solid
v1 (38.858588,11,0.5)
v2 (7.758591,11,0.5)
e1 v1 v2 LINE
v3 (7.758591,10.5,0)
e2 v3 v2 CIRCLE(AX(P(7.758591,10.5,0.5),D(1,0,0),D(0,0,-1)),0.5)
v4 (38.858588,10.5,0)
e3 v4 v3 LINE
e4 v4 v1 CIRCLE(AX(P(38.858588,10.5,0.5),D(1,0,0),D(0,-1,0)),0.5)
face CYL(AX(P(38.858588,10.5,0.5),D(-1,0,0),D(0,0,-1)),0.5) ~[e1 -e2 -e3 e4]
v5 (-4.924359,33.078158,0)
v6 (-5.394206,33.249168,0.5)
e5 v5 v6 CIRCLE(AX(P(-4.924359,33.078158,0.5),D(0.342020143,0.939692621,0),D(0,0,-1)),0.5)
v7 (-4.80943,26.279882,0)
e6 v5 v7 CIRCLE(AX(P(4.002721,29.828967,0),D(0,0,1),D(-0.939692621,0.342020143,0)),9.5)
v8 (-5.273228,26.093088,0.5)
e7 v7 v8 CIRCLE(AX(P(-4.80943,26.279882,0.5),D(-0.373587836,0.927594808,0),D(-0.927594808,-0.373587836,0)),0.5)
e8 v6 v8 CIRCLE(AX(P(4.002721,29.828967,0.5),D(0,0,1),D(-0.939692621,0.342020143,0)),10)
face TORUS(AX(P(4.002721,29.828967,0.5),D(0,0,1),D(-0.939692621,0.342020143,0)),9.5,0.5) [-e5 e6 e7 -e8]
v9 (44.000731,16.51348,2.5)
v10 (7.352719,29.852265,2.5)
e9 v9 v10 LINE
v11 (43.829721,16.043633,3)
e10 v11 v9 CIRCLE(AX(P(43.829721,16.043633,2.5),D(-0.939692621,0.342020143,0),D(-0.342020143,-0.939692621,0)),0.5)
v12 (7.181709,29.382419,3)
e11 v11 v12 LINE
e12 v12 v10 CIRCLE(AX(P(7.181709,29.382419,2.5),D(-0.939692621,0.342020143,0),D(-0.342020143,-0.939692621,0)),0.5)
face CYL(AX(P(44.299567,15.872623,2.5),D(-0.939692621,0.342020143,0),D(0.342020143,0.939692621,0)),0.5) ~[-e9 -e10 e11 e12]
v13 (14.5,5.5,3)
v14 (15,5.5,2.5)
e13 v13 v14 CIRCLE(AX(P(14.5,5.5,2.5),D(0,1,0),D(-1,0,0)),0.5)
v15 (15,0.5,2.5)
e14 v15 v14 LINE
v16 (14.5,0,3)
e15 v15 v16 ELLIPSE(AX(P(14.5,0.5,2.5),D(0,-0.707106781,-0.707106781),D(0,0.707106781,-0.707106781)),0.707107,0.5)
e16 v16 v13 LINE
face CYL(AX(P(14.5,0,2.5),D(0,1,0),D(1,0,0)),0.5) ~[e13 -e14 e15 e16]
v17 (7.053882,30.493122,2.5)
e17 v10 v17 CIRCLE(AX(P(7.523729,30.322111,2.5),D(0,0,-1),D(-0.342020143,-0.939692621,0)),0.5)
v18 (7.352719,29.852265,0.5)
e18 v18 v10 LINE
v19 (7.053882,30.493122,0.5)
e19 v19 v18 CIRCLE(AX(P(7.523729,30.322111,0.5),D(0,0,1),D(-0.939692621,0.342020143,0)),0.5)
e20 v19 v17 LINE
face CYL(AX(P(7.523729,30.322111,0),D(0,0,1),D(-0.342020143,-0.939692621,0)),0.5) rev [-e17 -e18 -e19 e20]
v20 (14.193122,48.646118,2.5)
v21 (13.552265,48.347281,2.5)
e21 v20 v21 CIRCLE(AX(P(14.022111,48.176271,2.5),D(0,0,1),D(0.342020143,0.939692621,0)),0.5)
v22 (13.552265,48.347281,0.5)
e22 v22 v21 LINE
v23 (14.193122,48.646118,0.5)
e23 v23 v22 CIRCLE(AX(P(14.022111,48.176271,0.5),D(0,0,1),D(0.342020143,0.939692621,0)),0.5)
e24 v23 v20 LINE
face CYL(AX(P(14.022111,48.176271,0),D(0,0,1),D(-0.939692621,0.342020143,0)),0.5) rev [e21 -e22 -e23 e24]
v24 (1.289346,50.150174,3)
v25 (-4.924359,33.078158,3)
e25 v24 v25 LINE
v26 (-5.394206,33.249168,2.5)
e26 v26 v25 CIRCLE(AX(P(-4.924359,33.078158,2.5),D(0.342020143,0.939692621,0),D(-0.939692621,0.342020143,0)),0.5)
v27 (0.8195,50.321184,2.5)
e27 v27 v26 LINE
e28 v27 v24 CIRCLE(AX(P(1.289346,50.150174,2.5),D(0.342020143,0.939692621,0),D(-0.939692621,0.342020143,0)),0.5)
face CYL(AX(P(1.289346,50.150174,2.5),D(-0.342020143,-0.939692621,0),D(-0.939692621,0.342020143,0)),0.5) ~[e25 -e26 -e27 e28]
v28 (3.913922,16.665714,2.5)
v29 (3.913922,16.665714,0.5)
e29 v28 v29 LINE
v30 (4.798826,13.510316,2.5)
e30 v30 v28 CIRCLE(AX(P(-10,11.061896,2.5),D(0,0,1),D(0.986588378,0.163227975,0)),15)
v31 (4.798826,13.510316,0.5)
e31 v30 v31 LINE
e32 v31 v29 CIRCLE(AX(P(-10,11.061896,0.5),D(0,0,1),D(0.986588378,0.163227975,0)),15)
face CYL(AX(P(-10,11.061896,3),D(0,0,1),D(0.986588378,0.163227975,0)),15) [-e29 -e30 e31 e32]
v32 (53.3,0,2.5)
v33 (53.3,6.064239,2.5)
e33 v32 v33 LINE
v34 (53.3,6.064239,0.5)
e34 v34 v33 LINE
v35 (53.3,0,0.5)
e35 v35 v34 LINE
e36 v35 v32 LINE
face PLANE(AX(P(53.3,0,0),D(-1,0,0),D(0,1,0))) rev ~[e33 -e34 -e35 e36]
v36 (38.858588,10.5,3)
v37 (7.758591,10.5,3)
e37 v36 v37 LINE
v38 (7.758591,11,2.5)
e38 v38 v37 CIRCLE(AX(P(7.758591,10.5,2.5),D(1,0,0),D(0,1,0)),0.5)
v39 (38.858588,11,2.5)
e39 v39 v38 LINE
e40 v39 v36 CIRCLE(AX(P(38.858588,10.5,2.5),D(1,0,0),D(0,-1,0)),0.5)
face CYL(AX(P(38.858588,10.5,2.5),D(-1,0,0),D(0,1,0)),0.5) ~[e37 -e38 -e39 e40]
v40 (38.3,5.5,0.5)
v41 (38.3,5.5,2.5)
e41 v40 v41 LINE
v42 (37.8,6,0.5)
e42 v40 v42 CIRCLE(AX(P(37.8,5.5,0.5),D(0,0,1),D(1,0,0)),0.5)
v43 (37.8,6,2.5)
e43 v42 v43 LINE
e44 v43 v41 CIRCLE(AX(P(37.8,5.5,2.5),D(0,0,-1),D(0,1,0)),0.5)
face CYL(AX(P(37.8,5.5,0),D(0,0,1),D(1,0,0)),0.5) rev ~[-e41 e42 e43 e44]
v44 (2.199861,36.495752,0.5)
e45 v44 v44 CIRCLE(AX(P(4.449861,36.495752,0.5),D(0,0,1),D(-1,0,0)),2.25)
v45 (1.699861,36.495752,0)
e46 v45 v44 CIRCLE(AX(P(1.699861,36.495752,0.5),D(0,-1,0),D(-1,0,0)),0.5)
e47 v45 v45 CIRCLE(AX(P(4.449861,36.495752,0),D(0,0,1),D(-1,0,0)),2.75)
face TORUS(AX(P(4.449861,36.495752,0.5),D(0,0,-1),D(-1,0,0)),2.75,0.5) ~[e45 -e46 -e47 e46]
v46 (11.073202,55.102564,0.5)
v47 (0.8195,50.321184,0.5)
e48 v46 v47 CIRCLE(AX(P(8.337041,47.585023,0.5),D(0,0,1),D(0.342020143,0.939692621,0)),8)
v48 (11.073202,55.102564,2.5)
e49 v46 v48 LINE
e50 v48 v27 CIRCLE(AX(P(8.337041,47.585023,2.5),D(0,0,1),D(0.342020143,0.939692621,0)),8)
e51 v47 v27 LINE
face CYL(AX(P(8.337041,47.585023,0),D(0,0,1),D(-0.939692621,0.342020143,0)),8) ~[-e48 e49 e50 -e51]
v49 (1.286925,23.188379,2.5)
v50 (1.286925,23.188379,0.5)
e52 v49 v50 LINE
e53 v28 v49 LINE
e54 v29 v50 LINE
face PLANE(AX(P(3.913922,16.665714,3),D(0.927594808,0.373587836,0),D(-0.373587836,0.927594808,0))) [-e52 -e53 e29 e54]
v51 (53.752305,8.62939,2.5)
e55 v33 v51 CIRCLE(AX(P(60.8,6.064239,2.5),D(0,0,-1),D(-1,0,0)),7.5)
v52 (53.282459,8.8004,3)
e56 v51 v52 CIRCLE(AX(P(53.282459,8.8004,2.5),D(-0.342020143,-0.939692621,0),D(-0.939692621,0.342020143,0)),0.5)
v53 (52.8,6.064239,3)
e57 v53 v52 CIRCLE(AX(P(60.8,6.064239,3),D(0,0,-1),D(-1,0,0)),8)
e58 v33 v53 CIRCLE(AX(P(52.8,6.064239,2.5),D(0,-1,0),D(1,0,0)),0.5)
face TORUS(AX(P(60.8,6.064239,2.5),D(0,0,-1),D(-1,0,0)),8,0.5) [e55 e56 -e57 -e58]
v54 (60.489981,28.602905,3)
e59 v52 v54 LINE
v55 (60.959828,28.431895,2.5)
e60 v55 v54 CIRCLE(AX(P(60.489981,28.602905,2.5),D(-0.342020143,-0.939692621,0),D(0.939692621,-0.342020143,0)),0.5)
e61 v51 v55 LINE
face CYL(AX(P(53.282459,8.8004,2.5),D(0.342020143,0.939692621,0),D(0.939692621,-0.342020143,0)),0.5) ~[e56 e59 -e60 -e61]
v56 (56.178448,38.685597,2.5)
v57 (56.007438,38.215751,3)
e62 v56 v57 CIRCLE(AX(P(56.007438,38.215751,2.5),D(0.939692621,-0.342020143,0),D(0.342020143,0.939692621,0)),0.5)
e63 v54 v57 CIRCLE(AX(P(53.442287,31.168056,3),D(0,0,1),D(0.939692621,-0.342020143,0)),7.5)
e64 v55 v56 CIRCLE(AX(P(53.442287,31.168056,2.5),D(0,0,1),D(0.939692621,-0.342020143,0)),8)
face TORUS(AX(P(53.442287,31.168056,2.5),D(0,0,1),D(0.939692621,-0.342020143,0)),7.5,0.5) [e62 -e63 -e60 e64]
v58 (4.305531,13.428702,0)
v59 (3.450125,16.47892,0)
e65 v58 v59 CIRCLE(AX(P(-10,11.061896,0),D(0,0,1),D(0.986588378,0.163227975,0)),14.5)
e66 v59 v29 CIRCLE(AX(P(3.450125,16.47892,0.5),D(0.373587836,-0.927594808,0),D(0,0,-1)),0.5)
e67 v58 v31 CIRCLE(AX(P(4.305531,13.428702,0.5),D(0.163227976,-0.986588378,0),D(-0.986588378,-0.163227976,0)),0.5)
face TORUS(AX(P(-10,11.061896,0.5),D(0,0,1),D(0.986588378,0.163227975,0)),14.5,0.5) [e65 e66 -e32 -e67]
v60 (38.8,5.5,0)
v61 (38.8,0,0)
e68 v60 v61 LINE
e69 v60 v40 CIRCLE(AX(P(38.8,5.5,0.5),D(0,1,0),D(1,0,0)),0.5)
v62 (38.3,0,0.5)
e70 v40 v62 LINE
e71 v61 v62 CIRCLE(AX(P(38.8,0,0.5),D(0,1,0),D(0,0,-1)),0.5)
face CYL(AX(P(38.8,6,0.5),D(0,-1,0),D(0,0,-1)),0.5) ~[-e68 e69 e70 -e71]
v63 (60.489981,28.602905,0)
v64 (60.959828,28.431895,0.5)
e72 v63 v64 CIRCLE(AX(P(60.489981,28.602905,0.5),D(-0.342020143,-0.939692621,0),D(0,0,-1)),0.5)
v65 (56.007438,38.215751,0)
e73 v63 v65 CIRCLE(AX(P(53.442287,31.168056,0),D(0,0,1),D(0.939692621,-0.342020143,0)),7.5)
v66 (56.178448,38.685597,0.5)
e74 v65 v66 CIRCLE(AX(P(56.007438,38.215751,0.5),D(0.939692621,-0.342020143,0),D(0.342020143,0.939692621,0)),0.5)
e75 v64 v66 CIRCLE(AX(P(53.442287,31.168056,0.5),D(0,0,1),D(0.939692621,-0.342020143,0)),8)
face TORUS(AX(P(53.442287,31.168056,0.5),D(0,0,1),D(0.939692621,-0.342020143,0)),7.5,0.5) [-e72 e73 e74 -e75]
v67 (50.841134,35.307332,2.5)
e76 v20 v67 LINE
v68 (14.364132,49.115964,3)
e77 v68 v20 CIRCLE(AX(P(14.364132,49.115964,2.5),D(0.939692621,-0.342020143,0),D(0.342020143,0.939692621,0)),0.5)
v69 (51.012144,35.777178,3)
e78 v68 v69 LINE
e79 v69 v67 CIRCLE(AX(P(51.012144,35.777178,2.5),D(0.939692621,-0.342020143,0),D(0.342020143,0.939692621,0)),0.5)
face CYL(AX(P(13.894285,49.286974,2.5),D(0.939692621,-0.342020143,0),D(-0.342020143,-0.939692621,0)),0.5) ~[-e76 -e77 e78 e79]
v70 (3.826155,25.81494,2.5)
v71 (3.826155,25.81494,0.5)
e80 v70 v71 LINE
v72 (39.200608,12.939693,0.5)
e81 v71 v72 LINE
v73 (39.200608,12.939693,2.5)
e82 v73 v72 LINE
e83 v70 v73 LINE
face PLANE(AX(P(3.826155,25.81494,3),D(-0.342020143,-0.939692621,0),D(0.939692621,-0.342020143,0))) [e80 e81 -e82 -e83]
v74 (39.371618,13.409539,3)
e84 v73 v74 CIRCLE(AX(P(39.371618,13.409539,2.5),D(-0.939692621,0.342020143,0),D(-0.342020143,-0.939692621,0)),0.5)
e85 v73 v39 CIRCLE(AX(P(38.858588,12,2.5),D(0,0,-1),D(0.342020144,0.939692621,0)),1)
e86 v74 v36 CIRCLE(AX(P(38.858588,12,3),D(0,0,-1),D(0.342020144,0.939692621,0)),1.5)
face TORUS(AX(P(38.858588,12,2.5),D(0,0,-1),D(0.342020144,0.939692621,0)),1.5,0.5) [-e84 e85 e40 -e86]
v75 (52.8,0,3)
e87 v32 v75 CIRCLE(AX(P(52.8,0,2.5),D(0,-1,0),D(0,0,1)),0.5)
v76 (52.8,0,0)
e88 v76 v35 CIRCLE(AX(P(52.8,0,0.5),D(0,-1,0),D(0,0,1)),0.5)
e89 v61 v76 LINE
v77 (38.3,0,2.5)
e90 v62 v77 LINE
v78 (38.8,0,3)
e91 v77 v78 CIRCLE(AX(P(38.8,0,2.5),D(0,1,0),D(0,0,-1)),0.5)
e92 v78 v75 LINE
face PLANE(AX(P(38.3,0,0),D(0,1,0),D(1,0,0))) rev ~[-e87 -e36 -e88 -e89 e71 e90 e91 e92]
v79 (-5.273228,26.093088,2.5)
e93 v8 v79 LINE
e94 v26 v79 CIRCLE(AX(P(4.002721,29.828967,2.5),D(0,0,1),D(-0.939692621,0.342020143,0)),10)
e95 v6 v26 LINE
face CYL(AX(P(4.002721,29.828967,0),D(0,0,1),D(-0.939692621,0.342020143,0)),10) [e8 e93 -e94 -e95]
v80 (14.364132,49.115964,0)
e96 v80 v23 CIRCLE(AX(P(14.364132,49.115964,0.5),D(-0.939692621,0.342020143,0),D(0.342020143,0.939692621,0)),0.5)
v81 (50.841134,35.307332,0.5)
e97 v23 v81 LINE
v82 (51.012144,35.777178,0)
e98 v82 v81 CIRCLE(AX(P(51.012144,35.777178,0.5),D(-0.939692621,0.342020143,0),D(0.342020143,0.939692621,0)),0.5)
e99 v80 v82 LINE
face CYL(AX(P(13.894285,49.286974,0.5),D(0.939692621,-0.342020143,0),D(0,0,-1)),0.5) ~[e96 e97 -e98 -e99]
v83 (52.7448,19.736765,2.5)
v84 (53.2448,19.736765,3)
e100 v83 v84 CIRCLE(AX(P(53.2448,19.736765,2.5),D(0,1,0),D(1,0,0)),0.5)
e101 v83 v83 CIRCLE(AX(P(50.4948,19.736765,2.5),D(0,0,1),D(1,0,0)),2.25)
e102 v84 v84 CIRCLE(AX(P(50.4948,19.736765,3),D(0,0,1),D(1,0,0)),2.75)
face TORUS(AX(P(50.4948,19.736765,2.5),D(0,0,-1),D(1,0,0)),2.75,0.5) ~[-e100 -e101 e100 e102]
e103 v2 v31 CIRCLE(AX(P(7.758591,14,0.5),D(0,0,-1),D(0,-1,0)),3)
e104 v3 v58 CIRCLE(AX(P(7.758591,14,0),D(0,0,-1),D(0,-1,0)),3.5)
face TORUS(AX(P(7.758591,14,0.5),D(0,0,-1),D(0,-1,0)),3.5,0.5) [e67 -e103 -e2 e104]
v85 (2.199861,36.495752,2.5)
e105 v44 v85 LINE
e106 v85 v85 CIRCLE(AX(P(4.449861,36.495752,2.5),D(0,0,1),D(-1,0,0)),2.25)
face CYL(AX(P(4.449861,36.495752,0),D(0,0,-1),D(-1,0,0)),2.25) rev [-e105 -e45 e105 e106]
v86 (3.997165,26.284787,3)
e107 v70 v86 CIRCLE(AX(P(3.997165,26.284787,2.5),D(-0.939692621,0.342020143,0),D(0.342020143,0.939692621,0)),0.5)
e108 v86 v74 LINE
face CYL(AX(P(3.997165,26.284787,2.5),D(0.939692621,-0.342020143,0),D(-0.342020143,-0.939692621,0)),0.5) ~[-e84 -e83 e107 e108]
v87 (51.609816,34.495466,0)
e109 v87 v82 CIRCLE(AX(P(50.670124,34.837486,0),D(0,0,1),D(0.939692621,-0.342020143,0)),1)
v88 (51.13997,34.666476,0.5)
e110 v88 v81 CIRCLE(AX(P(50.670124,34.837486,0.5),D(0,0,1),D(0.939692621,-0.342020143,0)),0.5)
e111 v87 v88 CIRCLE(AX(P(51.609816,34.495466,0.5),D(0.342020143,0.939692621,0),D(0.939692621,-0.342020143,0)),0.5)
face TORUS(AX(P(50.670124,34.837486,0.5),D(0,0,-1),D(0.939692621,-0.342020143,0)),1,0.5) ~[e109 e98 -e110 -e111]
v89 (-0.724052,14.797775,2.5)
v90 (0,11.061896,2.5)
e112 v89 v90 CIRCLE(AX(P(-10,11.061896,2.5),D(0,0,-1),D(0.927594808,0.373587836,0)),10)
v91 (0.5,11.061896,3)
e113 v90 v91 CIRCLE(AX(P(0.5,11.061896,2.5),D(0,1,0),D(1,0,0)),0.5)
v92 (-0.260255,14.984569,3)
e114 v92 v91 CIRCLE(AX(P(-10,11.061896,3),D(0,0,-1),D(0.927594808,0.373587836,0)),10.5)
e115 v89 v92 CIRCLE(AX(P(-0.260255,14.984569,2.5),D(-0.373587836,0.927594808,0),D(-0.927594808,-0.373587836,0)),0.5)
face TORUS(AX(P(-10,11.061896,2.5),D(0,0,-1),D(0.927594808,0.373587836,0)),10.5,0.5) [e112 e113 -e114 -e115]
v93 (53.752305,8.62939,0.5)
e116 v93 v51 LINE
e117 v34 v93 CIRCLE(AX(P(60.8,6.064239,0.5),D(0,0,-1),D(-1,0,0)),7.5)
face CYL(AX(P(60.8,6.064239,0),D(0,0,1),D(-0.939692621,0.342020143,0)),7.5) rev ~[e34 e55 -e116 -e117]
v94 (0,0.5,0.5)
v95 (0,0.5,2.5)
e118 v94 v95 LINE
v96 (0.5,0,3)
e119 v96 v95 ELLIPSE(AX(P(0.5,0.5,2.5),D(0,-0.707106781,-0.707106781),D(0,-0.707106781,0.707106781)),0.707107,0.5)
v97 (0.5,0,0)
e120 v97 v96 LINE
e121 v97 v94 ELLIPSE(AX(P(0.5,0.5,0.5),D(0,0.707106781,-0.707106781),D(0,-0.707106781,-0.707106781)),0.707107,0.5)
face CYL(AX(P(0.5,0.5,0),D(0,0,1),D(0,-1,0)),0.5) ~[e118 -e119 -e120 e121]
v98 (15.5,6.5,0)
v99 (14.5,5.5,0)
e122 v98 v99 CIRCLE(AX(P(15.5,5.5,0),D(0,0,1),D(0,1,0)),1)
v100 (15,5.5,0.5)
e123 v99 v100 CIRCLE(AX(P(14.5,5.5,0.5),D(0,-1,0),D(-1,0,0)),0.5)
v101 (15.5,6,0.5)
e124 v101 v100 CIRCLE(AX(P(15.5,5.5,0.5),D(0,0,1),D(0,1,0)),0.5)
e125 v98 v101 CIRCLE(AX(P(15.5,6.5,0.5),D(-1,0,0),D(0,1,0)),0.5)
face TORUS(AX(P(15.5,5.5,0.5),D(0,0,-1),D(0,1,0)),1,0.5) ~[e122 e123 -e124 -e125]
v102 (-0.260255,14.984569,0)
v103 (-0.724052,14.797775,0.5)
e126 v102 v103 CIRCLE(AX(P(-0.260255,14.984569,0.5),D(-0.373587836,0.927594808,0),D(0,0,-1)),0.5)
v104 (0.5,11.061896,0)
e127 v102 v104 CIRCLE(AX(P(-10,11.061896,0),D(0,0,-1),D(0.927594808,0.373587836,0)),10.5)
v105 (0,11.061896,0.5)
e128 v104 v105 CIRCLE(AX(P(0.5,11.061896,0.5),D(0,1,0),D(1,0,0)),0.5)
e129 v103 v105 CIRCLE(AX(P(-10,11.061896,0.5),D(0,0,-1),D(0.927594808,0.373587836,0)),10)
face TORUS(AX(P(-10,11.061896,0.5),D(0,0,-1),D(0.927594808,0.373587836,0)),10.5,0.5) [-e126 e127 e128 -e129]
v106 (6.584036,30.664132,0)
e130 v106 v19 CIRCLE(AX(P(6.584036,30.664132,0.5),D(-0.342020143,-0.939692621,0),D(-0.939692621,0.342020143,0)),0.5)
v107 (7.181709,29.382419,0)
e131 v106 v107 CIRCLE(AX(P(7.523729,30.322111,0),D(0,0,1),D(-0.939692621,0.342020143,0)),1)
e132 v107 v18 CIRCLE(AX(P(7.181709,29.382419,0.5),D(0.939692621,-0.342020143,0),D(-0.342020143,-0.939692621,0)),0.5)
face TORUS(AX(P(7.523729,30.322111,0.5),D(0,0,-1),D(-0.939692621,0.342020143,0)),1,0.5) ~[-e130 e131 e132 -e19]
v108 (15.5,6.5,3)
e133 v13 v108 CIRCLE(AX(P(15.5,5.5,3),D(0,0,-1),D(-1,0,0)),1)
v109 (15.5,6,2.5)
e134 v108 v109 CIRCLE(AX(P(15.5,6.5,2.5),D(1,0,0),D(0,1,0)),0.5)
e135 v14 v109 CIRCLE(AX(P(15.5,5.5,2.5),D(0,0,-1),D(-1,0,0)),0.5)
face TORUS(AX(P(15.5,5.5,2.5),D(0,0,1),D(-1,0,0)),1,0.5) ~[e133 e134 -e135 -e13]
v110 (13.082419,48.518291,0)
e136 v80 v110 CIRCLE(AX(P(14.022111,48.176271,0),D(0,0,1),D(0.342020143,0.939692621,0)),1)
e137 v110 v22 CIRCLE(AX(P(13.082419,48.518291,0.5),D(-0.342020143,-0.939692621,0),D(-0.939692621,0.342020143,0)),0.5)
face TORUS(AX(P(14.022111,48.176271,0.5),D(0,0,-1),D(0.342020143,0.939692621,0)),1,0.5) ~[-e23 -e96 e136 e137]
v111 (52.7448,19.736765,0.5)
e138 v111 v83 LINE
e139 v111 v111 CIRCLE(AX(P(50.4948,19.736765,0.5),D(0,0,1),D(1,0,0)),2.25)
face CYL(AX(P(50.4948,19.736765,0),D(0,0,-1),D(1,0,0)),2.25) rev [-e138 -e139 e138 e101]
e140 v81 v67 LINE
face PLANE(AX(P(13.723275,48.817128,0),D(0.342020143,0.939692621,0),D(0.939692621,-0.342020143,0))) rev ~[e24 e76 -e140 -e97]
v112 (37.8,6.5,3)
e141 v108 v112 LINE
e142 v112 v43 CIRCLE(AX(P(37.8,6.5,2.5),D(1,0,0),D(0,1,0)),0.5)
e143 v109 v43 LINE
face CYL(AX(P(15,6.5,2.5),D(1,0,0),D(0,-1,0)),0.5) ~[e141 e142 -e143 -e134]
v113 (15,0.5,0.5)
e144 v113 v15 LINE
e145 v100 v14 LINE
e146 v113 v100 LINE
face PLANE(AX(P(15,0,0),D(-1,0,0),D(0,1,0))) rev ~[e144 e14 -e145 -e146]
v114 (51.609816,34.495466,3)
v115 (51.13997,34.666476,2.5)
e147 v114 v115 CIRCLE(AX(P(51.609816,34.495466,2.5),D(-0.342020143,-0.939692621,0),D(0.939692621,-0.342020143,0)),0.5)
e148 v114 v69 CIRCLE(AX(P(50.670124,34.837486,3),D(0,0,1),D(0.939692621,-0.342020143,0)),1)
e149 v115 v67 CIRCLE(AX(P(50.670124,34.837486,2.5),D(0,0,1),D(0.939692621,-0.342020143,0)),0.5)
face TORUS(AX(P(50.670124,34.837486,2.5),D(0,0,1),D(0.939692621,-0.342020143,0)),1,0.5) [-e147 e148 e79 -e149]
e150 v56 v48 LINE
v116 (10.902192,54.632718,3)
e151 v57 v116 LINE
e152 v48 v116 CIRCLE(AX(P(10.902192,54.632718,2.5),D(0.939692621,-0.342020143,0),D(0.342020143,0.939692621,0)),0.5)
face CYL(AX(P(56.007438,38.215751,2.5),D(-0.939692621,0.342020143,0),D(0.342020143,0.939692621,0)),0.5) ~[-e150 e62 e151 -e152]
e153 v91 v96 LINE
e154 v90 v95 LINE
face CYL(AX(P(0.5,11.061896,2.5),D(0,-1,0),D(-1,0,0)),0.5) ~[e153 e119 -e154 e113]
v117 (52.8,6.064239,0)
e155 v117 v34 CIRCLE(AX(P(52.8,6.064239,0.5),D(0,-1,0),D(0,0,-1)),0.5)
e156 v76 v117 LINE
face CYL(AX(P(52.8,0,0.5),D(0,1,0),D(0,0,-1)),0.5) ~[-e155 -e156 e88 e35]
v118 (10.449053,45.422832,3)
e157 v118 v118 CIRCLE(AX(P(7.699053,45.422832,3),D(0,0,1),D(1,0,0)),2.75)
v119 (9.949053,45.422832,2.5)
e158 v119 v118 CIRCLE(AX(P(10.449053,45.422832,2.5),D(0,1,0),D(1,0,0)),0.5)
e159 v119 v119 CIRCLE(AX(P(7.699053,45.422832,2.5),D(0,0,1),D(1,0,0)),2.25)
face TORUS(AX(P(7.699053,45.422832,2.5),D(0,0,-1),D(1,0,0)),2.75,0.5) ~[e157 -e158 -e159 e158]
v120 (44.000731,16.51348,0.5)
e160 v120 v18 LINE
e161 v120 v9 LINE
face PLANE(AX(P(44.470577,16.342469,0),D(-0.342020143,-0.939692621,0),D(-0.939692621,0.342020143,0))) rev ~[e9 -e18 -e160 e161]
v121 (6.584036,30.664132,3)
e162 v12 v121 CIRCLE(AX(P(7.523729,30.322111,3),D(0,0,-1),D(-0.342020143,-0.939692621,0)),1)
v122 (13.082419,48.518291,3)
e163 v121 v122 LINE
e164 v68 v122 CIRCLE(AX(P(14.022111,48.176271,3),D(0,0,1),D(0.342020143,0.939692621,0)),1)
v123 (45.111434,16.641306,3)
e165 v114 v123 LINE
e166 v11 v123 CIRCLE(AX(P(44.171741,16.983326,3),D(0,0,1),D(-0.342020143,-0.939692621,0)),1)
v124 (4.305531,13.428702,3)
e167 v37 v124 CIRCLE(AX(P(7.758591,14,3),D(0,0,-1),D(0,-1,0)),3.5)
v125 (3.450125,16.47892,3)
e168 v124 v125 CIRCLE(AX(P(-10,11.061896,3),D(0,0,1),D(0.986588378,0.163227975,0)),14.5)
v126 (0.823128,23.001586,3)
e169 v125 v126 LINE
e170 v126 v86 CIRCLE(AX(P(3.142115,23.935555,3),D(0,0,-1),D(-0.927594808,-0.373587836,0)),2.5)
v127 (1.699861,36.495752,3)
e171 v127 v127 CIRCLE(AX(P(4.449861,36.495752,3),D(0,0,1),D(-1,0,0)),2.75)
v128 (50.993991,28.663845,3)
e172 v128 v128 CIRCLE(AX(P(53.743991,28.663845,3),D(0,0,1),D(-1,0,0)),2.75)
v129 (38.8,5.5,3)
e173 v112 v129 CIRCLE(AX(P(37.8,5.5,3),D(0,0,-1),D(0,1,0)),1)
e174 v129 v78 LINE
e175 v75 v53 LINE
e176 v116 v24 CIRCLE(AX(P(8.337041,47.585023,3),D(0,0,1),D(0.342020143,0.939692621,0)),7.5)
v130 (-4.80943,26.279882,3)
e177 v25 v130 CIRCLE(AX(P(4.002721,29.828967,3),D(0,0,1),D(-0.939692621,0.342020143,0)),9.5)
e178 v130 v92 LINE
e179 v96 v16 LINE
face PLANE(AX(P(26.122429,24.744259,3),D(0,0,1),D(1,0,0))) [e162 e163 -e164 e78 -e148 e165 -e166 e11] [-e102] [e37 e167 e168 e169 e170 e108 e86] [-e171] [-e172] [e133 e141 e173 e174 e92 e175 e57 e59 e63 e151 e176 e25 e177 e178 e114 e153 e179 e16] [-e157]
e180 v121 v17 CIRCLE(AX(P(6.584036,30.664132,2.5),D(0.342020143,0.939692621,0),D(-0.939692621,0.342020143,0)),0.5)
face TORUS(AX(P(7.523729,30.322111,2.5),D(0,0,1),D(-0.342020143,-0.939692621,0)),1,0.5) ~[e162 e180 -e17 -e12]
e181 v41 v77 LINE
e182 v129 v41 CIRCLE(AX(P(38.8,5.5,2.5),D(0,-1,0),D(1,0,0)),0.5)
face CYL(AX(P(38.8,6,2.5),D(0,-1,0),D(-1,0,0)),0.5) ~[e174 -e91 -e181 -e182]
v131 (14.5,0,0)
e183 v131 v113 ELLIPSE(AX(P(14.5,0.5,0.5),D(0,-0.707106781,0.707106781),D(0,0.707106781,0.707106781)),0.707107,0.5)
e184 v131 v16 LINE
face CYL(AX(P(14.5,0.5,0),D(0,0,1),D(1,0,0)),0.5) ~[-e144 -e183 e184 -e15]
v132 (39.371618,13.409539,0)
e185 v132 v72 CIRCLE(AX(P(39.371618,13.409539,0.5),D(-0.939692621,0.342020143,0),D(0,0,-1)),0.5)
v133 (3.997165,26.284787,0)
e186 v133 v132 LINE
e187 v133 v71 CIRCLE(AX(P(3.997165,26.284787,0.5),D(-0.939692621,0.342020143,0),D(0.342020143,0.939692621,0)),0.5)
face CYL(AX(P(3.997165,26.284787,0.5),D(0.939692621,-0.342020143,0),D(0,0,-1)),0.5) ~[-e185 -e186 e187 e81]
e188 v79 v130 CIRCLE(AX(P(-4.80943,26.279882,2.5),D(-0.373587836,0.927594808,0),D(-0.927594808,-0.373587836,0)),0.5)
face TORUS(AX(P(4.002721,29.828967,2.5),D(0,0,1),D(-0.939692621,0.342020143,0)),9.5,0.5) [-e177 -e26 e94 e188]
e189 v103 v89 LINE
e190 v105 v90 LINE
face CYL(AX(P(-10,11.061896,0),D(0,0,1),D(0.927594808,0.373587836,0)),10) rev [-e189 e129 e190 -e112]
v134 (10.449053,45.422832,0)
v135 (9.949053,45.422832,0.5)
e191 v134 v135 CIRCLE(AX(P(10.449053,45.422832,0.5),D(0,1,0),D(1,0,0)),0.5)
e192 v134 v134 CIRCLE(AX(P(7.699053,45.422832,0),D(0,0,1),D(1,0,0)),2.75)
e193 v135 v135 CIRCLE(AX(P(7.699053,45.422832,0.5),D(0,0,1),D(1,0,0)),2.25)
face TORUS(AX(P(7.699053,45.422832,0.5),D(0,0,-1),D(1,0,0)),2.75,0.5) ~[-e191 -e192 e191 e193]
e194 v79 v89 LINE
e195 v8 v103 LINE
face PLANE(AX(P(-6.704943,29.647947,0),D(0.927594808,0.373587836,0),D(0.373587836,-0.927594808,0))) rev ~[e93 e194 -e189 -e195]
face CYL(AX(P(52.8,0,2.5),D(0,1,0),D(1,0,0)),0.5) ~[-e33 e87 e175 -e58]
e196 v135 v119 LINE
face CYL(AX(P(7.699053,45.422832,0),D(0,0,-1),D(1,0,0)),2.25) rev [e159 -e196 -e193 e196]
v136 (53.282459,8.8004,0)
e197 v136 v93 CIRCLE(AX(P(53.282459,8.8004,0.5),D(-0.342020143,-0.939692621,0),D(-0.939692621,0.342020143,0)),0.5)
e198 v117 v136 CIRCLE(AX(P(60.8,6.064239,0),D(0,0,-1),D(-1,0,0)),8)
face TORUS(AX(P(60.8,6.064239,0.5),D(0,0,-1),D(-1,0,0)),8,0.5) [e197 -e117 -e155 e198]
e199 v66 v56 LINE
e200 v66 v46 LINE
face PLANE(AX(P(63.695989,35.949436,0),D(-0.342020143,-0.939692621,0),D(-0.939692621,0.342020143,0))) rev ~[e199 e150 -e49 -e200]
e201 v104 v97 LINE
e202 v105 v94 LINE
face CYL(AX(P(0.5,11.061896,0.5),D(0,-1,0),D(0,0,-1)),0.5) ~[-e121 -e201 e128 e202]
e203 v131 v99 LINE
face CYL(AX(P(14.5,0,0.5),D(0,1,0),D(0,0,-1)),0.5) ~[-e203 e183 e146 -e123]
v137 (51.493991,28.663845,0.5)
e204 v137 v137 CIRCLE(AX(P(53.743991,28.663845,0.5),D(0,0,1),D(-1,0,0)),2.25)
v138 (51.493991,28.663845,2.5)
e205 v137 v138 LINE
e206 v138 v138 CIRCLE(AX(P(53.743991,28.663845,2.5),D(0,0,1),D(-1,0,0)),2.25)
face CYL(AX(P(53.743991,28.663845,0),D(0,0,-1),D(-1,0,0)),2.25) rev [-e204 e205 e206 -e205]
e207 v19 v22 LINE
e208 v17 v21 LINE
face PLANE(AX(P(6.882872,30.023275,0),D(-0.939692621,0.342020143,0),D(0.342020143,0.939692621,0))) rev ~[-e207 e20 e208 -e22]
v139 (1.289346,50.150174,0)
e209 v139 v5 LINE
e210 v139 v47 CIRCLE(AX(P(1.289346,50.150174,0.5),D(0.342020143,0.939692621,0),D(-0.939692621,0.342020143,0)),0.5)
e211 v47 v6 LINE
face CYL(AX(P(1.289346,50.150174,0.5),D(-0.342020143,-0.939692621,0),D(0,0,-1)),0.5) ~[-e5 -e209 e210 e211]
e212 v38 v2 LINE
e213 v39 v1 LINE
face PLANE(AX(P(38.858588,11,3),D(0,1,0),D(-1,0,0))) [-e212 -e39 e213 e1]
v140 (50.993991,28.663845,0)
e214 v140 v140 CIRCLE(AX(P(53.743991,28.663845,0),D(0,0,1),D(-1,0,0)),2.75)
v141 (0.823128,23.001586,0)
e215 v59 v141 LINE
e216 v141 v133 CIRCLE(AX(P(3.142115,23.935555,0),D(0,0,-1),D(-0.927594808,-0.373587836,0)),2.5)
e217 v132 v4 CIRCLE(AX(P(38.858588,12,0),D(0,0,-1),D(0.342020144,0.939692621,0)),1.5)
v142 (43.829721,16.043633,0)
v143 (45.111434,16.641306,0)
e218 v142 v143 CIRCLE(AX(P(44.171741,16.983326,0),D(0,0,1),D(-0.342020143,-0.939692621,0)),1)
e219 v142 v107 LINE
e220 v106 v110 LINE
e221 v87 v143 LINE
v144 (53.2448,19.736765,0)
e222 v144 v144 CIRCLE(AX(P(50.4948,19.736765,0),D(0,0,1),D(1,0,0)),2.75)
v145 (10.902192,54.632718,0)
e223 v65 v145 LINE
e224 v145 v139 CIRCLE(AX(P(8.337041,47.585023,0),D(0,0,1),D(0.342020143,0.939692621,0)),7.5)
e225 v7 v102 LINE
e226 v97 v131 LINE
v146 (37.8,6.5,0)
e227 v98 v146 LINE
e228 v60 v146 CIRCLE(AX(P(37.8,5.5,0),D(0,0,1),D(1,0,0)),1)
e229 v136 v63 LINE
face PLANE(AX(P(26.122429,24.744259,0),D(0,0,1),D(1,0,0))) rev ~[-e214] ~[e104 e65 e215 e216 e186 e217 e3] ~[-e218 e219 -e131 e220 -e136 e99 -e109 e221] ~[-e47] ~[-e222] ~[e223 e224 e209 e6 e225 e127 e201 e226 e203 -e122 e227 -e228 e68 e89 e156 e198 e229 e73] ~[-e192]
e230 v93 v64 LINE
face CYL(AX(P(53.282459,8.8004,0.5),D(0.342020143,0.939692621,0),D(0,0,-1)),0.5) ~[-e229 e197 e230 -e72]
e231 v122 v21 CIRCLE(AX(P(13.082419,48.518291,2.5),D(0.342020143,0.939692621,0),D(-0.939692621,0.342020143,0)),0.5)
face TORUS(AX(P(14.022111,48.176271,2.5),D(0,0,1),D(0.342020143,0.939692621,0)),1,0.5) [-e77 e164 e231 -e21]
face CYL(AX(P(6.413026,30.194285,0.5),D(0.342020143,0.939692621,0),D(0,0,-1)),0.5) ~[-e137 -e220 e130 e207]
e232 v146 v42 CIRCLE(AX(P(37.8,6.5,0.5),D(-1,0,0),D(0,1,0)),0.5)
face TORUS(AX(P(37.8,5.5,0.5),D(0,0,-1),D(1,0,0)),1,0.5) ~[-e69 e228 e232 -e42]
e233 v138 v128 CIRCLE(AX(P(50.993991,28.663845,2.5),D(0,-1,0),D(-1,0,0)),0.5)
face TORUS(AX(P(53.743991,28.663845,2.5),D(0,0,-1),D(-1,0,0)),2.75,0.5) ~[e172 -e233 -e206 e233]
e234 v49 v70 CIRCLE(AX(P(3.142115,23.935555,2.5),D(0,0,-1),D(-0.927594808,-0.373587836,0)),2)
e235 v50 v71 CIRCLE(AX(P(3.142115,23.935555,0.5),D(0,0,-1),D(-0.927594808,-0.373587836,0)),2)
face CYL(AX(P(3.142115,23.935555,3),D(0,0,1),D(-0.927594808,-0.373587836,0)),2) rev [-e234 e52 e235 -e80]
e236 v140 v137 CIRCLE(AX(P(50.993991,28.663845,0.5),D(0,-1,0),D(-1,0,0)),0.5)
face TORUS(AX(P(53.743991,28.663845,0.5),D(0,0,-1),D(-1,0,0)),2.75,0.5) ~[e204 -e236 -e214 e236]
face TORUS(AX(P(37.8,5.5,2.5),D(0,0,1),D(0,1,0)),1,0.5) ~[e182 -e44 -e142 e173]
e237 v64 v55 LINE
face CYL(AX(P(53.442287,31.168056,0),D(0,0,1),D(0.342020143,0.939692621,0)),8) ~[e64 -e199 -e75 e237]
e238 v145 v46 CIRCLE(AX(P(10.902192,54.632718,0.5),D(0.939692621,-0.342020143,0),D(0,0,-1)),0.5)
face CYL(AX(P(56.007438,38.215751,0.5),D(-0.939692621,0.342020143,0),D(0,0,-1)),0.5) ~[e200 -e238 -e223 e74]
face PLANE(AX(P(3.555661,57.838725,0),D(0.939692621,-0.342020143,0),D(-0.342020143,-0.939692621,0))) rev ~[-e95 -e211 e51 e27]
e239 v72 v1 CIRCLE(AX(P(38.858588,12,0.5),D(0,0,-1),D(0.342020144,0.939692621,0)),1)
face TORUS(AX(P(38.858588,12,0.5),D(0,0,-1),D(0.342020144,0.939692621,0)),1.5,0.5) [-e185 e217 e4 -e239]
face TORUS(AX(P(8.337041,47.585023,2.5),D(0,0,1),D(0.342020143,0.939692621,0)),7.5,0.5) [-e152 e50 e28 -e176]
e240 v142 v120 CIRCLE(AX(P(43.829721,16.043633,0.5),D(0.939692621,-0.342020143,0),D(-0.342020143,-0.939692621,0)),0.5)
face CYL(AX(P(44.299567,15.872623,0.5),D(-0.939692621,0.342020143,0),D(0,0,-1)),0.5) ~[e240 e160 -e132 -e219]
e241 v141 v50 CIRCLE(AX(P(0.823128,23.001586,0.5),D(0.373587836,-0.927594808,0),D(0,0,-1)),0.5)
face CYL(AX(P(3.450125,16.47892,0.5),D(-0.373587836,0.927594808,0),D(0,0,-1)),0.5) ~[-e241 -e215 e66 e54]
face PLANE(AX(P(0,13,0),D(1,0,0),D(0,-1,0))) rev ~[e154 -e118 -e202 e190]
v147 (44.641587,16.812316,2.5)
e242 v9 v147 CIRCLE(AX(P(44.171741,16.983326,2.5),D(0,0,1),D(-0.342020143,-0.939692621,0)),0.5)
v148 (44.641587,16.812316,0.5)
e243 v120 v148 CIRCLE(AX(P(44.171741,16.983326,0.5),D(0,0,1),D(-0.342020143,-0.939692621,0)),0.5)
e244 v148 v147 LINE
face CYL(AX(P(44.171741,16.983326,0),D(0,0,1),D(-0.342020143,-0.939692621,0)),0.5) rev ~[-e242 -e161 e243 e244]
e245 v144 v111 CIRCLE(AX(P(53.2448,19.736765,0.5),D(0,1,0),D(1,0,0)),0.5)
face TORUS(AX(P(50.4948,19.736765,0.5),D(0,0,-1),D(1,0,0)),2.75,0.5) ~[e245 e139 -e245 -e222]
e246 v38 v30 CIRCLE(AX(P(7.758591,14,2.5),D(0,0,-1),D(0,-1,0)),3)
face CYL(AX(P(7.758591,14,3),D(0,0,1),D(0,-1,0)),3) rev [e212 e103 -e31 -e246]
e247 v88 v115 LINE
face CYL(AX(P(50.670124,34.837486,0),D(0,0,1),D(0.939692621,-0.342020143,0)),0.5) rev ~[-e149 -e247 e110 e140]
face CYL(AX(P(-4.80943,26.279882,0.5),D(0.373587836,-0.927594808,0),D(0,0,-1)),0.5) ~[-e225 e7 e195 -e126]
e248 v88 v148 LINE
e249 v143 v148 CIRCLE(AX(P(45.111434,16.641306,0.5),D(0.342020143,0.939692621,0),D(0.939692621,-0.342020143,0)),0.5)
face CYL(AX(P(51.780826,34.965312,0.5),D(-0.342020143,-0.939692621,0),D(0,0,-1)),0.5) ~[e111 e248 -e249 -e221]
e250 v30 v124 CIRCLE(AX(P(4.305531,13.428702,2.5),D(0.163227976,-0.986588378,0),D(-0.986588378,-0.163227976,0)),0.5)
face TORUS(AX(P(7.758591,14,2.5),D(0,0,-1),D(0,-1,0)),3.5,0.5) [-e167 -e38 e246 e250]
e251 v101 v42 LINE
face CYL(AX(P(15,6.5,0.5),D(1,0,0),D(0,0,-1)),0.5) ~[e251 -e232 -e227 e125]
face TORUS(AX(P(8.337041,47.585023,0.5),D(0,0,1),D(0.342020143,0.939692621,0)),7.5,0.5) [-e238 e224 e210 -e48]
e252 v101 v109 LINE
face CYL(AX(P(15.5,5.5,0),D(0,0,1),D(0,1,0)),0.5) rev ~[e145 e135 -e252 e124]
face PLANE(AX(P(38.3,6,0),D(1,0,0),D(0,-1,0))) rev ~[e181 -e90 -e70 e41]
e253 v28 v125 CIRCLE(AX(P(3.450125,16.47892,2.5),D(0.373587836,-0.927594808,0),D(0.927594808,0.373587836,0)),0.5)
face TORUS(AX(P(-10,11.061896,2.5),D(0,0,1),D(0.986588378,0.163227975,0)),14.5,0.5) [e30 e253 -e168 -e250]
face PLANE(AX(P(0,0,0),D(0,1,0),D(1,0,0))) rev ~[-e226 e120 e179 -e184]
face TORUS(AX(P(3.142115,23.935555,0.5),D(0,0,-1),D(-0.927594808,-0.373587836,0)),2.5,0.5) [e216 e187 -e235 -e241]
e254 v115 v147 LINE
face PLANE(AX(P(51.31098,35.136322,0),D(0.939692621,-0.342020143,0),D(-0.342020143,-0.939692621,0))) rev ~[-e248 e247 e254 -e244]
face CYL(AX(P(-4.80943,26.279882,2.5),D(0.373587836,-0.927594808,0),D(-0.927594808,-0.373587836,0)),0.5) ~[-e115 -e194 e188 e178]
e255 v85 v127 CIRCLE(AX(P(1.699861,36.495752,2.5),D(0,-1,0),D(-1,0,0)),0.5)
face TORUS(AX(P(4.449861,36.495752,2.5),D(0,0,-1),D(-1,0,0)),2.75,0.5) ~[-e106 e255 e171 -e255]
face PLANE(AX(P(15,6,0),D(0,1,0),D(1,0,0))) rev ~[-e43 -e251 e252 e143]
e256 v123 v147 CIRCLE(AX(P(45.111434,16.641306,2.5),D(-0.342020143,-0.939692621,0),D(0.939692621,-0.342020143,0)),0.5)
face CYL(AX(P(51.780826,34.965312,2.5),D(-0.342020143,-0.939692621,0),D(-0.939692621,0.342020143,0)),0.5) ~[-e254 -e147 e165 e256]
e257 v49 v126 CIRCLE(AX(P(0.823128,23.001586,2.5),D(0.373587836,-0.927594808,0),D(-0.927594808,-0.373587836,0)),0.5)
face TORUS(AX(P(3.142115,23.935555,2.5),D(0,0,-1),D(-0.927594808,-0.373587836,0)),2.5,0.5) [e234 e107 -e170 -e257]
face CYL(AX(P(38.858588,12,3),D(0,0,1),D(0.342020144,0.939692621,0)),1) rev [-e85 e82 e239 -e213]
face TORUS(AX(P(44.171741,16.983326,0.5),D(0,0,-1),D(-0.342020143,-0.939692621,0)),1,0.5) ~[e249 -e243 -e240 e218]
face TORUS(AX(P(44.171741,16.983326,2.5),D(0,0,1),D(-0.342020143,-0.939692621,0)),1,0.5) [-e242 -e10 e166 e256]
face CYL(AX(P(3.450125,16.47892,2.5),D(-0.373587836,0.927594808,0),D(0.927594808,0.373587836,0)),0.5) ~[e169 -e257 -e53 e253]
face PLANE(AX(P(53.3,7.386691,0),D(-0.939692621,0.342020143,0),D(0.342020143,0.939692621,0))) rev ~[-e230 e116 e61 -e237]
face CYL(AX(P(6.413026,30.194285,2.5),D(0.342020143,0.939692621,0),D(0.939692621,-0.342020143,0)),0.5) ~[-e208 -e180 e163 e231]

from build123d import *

# Parameters (mm, degrees)
SKETCH1_R           = 2.25
BOSS_EXTRUDE1_DEPTH = 3
FILLET1_R           = 8
FILLET2_R           = 10
FILLET3_R           = 7.5
CUT_EXTRUDE1_DEPTH  = 10
FILLET4_R           = 0.5


with BuildPart() as part:
    # Sketch1 → Boss-Extrude1 (new body)
    with BuildSketch(Plane.XY):
        Polygon((0, 0), (15, 0), (15, 6), (38.3, 6), (38.3, 0), (53.3, 0), (53.3, 7.386691303), (63.695988946, 35.949436184), (3.555661215, 57.838725357), (-6.704943084, 29.647946733), (0, 13), align=None)
        with Locations((7.699052679, 45.422832027)):
            Circle(SKETCH1_R, mode=Mode.SUBTRACT)
        with Locations(Location((4.449861318, 36.495752129, 0), (0, 0, 180))):
            Circle(SKETCH1_R, mode=Mode.SUBTRACT)
        with Locations(Location((53.743991098, 28.663845004, 0), (0, 0, 180))):
            Circle(SKETCH1_R, mode=Mode.SUBTRACT)
        with Locations((50.494799736, 19.736765107)):
            Circle(SKETCH1_R, mode=Mode.SUBTRACT)
        Polygon((6.882872359, 30.023275225), (13.723275225, 48.817127641), (51.310980057, 35.136321908), (44.47057719, 16.342469492), align=None, mode=Mode.SUBTRACT)
    extrude(amount=BOSS_EXTRUDE1_DEPTH)

    # Fillet1
    fillet1_edges = [part.edges().sort_by_distance(p)[0] for p in [
        (3.555661215, 57.838725357, 1.5),
        (63.695988946, 35.949436184, 1.5),
    ]]
    fillet(fillet1_edges, radius=FILLET1_R)

    # Fillet2
    fillet2_edges = [part.edges().sort_by_distance(p)[0] for p in [
        (0, 13, 1.5),
        (-6.704943084, 29.647946733, 1.5),
    ]]
    fillet(fillet2_edges, radius=FILLET2_R)

    # Fillet3
    fillet3_edges = [part.edges().sort_by_distance(p)[0] for p in [
        (53.3, 7.386691303, 1.5),
    ]]
    fillet(fillet3_edges, radius=FILLET3_R)

    # Sketch2 → Cut-Extrude1 (cut)
    with BuildSketch(Plane.XY.offset(3)):
        with BuildLine():
            Line((3.913922127, 16.665713982), (1.28692545, 23.188379454))
            ThreePointArc((1.28692545, 23.188379454), (1.70419878, 25.325661868), (3.826155353, 25.814940368))
            Line((3.826155353, 25.814940368), (39.200607808, 12.939692621))
            ThreePointArc((39.200607808, 12.939692621), (39.843395417, 11.826351822), (38.858587664, 11))
            Line((38.858587664, 11), (7.758590807, 11))
            ThreePointArc((7.758590807, 11), (5.81810785, 11.712091372), (4.798825673, 13.510316073))
            ThreePointArc((4.798825673, 13.510316073), (4.442804629, 15.112253764), (3.913922127, 16.665713982))
        make_face()
    extrude(amount=-CUT_EXTRUDE1_DEPTH, mode=Mode.SUBTRACT)

    # Fillet4
    fillet4_edges = [part.edges().sort_by_distance(p)[0] for p in [
        (15, 3, 3),
        (2.600423788, 19.927046718, 0),
        (4.442804629, 15.112253764, 0),
        (5.81810785, 11.712091372, 0),
        (23.308589236, 11, 0),
        (39.843395417, 11.826351822, 0),
        (21.51338158, 19.377316494, 0),
        (1.70419878, 25.325661868, 0),
        (1.70419878, 25.325661868, 3),
        (2.600423788, 19.927046718, 3),
        (4.442804629, 15.112253764, 3),
        (5.81810785, 11.712091372, 3),
        (23.308589236, 11, 3),
        (39.843395417, 11.826351822, 3),
        (21.51338158, 19.377316494, 3),
        (53.3, 3.032119474, 0),
        (38.3, 3, 0),
        (26.65, 6, 0),
        (26.65, 6, 3),
        (15, 3, 0),
        (38.3, 3, 3),
        (38.3, 6, 1.5),
        (15, 6, 1.5),
        (15, 0, 1.5),
        (0, 0, 1.5),
        (53.3, 3.032119474, 3),
        (25.676724775, 23.182872359, 0),
        (6.882872359, 30.023275225, 1.5),
        (47.890778624, 25.7393957, 0),
        (44.47057719, 16.342469492, 1.5),
        (32.517127641, 41.976724775, 0),
        (51.310980057, 35.136321908, 1.5),
        (10.303073792, 39.420201433, 0),
        (13.723275225, 48.817127641, 1.5),
        (25.676724775, 23.182872359, 3),
        (47.890778624, 25.7393957, 3),
        (32.517127641, 41.976724775, 3),
        (10.303073792, 39.420201433, 3),
        (5.449052679, 45.422832027, 0),
        (5.449052679, 45.422832027, 3),
        (6.699861318, 36.495752129, 0),
        (6.699861318, 36.495752129, 3),
        (55.993991098, 28.663845004, 0),
        (55.993991098, 28.663845004, 3),
        (48.244799736, 19.736765107, 0),
        (48.244799736, 19.736765107, 3),
        (33.62582508, 46.89408077, 0),
        (33.62582508, 46.89408077, 3),
        (-2.287352817, 41.785176242, 0),
        (4.956094941, 54.83548554, 0),
        (60.692749129, 34.549002458, 0),
        (-2.287352817, 41.785176242, 3),
        (4.956094941, 54.83548554, 3),
        (60.692749129, 34.549002458, 3),
        (0, 5.53094822, 0),
        (0, 5.53094822, 3),
        (-2.998639747, 20.44543155, 0),
        (-2.998639747, 20.44543155, 3),
        (-5.995850797, 29.659934393, 0),
        (-5.995850797, 29.659934393, 3),
        (-0.182681607, 12.964594413, 0),
        (-0.182681607, 12.964594413, 3),
        (57.356066572, 18.53064262, 0),
        (57.356066572, 18.53064262, 3),
        (53.413941852, 7.36660028, 0),
        (53.413941852, 7.36660028, 3),
    ]]
    fillet(fillet4_edges, radius=FILLET4_R)


solid = part.part
